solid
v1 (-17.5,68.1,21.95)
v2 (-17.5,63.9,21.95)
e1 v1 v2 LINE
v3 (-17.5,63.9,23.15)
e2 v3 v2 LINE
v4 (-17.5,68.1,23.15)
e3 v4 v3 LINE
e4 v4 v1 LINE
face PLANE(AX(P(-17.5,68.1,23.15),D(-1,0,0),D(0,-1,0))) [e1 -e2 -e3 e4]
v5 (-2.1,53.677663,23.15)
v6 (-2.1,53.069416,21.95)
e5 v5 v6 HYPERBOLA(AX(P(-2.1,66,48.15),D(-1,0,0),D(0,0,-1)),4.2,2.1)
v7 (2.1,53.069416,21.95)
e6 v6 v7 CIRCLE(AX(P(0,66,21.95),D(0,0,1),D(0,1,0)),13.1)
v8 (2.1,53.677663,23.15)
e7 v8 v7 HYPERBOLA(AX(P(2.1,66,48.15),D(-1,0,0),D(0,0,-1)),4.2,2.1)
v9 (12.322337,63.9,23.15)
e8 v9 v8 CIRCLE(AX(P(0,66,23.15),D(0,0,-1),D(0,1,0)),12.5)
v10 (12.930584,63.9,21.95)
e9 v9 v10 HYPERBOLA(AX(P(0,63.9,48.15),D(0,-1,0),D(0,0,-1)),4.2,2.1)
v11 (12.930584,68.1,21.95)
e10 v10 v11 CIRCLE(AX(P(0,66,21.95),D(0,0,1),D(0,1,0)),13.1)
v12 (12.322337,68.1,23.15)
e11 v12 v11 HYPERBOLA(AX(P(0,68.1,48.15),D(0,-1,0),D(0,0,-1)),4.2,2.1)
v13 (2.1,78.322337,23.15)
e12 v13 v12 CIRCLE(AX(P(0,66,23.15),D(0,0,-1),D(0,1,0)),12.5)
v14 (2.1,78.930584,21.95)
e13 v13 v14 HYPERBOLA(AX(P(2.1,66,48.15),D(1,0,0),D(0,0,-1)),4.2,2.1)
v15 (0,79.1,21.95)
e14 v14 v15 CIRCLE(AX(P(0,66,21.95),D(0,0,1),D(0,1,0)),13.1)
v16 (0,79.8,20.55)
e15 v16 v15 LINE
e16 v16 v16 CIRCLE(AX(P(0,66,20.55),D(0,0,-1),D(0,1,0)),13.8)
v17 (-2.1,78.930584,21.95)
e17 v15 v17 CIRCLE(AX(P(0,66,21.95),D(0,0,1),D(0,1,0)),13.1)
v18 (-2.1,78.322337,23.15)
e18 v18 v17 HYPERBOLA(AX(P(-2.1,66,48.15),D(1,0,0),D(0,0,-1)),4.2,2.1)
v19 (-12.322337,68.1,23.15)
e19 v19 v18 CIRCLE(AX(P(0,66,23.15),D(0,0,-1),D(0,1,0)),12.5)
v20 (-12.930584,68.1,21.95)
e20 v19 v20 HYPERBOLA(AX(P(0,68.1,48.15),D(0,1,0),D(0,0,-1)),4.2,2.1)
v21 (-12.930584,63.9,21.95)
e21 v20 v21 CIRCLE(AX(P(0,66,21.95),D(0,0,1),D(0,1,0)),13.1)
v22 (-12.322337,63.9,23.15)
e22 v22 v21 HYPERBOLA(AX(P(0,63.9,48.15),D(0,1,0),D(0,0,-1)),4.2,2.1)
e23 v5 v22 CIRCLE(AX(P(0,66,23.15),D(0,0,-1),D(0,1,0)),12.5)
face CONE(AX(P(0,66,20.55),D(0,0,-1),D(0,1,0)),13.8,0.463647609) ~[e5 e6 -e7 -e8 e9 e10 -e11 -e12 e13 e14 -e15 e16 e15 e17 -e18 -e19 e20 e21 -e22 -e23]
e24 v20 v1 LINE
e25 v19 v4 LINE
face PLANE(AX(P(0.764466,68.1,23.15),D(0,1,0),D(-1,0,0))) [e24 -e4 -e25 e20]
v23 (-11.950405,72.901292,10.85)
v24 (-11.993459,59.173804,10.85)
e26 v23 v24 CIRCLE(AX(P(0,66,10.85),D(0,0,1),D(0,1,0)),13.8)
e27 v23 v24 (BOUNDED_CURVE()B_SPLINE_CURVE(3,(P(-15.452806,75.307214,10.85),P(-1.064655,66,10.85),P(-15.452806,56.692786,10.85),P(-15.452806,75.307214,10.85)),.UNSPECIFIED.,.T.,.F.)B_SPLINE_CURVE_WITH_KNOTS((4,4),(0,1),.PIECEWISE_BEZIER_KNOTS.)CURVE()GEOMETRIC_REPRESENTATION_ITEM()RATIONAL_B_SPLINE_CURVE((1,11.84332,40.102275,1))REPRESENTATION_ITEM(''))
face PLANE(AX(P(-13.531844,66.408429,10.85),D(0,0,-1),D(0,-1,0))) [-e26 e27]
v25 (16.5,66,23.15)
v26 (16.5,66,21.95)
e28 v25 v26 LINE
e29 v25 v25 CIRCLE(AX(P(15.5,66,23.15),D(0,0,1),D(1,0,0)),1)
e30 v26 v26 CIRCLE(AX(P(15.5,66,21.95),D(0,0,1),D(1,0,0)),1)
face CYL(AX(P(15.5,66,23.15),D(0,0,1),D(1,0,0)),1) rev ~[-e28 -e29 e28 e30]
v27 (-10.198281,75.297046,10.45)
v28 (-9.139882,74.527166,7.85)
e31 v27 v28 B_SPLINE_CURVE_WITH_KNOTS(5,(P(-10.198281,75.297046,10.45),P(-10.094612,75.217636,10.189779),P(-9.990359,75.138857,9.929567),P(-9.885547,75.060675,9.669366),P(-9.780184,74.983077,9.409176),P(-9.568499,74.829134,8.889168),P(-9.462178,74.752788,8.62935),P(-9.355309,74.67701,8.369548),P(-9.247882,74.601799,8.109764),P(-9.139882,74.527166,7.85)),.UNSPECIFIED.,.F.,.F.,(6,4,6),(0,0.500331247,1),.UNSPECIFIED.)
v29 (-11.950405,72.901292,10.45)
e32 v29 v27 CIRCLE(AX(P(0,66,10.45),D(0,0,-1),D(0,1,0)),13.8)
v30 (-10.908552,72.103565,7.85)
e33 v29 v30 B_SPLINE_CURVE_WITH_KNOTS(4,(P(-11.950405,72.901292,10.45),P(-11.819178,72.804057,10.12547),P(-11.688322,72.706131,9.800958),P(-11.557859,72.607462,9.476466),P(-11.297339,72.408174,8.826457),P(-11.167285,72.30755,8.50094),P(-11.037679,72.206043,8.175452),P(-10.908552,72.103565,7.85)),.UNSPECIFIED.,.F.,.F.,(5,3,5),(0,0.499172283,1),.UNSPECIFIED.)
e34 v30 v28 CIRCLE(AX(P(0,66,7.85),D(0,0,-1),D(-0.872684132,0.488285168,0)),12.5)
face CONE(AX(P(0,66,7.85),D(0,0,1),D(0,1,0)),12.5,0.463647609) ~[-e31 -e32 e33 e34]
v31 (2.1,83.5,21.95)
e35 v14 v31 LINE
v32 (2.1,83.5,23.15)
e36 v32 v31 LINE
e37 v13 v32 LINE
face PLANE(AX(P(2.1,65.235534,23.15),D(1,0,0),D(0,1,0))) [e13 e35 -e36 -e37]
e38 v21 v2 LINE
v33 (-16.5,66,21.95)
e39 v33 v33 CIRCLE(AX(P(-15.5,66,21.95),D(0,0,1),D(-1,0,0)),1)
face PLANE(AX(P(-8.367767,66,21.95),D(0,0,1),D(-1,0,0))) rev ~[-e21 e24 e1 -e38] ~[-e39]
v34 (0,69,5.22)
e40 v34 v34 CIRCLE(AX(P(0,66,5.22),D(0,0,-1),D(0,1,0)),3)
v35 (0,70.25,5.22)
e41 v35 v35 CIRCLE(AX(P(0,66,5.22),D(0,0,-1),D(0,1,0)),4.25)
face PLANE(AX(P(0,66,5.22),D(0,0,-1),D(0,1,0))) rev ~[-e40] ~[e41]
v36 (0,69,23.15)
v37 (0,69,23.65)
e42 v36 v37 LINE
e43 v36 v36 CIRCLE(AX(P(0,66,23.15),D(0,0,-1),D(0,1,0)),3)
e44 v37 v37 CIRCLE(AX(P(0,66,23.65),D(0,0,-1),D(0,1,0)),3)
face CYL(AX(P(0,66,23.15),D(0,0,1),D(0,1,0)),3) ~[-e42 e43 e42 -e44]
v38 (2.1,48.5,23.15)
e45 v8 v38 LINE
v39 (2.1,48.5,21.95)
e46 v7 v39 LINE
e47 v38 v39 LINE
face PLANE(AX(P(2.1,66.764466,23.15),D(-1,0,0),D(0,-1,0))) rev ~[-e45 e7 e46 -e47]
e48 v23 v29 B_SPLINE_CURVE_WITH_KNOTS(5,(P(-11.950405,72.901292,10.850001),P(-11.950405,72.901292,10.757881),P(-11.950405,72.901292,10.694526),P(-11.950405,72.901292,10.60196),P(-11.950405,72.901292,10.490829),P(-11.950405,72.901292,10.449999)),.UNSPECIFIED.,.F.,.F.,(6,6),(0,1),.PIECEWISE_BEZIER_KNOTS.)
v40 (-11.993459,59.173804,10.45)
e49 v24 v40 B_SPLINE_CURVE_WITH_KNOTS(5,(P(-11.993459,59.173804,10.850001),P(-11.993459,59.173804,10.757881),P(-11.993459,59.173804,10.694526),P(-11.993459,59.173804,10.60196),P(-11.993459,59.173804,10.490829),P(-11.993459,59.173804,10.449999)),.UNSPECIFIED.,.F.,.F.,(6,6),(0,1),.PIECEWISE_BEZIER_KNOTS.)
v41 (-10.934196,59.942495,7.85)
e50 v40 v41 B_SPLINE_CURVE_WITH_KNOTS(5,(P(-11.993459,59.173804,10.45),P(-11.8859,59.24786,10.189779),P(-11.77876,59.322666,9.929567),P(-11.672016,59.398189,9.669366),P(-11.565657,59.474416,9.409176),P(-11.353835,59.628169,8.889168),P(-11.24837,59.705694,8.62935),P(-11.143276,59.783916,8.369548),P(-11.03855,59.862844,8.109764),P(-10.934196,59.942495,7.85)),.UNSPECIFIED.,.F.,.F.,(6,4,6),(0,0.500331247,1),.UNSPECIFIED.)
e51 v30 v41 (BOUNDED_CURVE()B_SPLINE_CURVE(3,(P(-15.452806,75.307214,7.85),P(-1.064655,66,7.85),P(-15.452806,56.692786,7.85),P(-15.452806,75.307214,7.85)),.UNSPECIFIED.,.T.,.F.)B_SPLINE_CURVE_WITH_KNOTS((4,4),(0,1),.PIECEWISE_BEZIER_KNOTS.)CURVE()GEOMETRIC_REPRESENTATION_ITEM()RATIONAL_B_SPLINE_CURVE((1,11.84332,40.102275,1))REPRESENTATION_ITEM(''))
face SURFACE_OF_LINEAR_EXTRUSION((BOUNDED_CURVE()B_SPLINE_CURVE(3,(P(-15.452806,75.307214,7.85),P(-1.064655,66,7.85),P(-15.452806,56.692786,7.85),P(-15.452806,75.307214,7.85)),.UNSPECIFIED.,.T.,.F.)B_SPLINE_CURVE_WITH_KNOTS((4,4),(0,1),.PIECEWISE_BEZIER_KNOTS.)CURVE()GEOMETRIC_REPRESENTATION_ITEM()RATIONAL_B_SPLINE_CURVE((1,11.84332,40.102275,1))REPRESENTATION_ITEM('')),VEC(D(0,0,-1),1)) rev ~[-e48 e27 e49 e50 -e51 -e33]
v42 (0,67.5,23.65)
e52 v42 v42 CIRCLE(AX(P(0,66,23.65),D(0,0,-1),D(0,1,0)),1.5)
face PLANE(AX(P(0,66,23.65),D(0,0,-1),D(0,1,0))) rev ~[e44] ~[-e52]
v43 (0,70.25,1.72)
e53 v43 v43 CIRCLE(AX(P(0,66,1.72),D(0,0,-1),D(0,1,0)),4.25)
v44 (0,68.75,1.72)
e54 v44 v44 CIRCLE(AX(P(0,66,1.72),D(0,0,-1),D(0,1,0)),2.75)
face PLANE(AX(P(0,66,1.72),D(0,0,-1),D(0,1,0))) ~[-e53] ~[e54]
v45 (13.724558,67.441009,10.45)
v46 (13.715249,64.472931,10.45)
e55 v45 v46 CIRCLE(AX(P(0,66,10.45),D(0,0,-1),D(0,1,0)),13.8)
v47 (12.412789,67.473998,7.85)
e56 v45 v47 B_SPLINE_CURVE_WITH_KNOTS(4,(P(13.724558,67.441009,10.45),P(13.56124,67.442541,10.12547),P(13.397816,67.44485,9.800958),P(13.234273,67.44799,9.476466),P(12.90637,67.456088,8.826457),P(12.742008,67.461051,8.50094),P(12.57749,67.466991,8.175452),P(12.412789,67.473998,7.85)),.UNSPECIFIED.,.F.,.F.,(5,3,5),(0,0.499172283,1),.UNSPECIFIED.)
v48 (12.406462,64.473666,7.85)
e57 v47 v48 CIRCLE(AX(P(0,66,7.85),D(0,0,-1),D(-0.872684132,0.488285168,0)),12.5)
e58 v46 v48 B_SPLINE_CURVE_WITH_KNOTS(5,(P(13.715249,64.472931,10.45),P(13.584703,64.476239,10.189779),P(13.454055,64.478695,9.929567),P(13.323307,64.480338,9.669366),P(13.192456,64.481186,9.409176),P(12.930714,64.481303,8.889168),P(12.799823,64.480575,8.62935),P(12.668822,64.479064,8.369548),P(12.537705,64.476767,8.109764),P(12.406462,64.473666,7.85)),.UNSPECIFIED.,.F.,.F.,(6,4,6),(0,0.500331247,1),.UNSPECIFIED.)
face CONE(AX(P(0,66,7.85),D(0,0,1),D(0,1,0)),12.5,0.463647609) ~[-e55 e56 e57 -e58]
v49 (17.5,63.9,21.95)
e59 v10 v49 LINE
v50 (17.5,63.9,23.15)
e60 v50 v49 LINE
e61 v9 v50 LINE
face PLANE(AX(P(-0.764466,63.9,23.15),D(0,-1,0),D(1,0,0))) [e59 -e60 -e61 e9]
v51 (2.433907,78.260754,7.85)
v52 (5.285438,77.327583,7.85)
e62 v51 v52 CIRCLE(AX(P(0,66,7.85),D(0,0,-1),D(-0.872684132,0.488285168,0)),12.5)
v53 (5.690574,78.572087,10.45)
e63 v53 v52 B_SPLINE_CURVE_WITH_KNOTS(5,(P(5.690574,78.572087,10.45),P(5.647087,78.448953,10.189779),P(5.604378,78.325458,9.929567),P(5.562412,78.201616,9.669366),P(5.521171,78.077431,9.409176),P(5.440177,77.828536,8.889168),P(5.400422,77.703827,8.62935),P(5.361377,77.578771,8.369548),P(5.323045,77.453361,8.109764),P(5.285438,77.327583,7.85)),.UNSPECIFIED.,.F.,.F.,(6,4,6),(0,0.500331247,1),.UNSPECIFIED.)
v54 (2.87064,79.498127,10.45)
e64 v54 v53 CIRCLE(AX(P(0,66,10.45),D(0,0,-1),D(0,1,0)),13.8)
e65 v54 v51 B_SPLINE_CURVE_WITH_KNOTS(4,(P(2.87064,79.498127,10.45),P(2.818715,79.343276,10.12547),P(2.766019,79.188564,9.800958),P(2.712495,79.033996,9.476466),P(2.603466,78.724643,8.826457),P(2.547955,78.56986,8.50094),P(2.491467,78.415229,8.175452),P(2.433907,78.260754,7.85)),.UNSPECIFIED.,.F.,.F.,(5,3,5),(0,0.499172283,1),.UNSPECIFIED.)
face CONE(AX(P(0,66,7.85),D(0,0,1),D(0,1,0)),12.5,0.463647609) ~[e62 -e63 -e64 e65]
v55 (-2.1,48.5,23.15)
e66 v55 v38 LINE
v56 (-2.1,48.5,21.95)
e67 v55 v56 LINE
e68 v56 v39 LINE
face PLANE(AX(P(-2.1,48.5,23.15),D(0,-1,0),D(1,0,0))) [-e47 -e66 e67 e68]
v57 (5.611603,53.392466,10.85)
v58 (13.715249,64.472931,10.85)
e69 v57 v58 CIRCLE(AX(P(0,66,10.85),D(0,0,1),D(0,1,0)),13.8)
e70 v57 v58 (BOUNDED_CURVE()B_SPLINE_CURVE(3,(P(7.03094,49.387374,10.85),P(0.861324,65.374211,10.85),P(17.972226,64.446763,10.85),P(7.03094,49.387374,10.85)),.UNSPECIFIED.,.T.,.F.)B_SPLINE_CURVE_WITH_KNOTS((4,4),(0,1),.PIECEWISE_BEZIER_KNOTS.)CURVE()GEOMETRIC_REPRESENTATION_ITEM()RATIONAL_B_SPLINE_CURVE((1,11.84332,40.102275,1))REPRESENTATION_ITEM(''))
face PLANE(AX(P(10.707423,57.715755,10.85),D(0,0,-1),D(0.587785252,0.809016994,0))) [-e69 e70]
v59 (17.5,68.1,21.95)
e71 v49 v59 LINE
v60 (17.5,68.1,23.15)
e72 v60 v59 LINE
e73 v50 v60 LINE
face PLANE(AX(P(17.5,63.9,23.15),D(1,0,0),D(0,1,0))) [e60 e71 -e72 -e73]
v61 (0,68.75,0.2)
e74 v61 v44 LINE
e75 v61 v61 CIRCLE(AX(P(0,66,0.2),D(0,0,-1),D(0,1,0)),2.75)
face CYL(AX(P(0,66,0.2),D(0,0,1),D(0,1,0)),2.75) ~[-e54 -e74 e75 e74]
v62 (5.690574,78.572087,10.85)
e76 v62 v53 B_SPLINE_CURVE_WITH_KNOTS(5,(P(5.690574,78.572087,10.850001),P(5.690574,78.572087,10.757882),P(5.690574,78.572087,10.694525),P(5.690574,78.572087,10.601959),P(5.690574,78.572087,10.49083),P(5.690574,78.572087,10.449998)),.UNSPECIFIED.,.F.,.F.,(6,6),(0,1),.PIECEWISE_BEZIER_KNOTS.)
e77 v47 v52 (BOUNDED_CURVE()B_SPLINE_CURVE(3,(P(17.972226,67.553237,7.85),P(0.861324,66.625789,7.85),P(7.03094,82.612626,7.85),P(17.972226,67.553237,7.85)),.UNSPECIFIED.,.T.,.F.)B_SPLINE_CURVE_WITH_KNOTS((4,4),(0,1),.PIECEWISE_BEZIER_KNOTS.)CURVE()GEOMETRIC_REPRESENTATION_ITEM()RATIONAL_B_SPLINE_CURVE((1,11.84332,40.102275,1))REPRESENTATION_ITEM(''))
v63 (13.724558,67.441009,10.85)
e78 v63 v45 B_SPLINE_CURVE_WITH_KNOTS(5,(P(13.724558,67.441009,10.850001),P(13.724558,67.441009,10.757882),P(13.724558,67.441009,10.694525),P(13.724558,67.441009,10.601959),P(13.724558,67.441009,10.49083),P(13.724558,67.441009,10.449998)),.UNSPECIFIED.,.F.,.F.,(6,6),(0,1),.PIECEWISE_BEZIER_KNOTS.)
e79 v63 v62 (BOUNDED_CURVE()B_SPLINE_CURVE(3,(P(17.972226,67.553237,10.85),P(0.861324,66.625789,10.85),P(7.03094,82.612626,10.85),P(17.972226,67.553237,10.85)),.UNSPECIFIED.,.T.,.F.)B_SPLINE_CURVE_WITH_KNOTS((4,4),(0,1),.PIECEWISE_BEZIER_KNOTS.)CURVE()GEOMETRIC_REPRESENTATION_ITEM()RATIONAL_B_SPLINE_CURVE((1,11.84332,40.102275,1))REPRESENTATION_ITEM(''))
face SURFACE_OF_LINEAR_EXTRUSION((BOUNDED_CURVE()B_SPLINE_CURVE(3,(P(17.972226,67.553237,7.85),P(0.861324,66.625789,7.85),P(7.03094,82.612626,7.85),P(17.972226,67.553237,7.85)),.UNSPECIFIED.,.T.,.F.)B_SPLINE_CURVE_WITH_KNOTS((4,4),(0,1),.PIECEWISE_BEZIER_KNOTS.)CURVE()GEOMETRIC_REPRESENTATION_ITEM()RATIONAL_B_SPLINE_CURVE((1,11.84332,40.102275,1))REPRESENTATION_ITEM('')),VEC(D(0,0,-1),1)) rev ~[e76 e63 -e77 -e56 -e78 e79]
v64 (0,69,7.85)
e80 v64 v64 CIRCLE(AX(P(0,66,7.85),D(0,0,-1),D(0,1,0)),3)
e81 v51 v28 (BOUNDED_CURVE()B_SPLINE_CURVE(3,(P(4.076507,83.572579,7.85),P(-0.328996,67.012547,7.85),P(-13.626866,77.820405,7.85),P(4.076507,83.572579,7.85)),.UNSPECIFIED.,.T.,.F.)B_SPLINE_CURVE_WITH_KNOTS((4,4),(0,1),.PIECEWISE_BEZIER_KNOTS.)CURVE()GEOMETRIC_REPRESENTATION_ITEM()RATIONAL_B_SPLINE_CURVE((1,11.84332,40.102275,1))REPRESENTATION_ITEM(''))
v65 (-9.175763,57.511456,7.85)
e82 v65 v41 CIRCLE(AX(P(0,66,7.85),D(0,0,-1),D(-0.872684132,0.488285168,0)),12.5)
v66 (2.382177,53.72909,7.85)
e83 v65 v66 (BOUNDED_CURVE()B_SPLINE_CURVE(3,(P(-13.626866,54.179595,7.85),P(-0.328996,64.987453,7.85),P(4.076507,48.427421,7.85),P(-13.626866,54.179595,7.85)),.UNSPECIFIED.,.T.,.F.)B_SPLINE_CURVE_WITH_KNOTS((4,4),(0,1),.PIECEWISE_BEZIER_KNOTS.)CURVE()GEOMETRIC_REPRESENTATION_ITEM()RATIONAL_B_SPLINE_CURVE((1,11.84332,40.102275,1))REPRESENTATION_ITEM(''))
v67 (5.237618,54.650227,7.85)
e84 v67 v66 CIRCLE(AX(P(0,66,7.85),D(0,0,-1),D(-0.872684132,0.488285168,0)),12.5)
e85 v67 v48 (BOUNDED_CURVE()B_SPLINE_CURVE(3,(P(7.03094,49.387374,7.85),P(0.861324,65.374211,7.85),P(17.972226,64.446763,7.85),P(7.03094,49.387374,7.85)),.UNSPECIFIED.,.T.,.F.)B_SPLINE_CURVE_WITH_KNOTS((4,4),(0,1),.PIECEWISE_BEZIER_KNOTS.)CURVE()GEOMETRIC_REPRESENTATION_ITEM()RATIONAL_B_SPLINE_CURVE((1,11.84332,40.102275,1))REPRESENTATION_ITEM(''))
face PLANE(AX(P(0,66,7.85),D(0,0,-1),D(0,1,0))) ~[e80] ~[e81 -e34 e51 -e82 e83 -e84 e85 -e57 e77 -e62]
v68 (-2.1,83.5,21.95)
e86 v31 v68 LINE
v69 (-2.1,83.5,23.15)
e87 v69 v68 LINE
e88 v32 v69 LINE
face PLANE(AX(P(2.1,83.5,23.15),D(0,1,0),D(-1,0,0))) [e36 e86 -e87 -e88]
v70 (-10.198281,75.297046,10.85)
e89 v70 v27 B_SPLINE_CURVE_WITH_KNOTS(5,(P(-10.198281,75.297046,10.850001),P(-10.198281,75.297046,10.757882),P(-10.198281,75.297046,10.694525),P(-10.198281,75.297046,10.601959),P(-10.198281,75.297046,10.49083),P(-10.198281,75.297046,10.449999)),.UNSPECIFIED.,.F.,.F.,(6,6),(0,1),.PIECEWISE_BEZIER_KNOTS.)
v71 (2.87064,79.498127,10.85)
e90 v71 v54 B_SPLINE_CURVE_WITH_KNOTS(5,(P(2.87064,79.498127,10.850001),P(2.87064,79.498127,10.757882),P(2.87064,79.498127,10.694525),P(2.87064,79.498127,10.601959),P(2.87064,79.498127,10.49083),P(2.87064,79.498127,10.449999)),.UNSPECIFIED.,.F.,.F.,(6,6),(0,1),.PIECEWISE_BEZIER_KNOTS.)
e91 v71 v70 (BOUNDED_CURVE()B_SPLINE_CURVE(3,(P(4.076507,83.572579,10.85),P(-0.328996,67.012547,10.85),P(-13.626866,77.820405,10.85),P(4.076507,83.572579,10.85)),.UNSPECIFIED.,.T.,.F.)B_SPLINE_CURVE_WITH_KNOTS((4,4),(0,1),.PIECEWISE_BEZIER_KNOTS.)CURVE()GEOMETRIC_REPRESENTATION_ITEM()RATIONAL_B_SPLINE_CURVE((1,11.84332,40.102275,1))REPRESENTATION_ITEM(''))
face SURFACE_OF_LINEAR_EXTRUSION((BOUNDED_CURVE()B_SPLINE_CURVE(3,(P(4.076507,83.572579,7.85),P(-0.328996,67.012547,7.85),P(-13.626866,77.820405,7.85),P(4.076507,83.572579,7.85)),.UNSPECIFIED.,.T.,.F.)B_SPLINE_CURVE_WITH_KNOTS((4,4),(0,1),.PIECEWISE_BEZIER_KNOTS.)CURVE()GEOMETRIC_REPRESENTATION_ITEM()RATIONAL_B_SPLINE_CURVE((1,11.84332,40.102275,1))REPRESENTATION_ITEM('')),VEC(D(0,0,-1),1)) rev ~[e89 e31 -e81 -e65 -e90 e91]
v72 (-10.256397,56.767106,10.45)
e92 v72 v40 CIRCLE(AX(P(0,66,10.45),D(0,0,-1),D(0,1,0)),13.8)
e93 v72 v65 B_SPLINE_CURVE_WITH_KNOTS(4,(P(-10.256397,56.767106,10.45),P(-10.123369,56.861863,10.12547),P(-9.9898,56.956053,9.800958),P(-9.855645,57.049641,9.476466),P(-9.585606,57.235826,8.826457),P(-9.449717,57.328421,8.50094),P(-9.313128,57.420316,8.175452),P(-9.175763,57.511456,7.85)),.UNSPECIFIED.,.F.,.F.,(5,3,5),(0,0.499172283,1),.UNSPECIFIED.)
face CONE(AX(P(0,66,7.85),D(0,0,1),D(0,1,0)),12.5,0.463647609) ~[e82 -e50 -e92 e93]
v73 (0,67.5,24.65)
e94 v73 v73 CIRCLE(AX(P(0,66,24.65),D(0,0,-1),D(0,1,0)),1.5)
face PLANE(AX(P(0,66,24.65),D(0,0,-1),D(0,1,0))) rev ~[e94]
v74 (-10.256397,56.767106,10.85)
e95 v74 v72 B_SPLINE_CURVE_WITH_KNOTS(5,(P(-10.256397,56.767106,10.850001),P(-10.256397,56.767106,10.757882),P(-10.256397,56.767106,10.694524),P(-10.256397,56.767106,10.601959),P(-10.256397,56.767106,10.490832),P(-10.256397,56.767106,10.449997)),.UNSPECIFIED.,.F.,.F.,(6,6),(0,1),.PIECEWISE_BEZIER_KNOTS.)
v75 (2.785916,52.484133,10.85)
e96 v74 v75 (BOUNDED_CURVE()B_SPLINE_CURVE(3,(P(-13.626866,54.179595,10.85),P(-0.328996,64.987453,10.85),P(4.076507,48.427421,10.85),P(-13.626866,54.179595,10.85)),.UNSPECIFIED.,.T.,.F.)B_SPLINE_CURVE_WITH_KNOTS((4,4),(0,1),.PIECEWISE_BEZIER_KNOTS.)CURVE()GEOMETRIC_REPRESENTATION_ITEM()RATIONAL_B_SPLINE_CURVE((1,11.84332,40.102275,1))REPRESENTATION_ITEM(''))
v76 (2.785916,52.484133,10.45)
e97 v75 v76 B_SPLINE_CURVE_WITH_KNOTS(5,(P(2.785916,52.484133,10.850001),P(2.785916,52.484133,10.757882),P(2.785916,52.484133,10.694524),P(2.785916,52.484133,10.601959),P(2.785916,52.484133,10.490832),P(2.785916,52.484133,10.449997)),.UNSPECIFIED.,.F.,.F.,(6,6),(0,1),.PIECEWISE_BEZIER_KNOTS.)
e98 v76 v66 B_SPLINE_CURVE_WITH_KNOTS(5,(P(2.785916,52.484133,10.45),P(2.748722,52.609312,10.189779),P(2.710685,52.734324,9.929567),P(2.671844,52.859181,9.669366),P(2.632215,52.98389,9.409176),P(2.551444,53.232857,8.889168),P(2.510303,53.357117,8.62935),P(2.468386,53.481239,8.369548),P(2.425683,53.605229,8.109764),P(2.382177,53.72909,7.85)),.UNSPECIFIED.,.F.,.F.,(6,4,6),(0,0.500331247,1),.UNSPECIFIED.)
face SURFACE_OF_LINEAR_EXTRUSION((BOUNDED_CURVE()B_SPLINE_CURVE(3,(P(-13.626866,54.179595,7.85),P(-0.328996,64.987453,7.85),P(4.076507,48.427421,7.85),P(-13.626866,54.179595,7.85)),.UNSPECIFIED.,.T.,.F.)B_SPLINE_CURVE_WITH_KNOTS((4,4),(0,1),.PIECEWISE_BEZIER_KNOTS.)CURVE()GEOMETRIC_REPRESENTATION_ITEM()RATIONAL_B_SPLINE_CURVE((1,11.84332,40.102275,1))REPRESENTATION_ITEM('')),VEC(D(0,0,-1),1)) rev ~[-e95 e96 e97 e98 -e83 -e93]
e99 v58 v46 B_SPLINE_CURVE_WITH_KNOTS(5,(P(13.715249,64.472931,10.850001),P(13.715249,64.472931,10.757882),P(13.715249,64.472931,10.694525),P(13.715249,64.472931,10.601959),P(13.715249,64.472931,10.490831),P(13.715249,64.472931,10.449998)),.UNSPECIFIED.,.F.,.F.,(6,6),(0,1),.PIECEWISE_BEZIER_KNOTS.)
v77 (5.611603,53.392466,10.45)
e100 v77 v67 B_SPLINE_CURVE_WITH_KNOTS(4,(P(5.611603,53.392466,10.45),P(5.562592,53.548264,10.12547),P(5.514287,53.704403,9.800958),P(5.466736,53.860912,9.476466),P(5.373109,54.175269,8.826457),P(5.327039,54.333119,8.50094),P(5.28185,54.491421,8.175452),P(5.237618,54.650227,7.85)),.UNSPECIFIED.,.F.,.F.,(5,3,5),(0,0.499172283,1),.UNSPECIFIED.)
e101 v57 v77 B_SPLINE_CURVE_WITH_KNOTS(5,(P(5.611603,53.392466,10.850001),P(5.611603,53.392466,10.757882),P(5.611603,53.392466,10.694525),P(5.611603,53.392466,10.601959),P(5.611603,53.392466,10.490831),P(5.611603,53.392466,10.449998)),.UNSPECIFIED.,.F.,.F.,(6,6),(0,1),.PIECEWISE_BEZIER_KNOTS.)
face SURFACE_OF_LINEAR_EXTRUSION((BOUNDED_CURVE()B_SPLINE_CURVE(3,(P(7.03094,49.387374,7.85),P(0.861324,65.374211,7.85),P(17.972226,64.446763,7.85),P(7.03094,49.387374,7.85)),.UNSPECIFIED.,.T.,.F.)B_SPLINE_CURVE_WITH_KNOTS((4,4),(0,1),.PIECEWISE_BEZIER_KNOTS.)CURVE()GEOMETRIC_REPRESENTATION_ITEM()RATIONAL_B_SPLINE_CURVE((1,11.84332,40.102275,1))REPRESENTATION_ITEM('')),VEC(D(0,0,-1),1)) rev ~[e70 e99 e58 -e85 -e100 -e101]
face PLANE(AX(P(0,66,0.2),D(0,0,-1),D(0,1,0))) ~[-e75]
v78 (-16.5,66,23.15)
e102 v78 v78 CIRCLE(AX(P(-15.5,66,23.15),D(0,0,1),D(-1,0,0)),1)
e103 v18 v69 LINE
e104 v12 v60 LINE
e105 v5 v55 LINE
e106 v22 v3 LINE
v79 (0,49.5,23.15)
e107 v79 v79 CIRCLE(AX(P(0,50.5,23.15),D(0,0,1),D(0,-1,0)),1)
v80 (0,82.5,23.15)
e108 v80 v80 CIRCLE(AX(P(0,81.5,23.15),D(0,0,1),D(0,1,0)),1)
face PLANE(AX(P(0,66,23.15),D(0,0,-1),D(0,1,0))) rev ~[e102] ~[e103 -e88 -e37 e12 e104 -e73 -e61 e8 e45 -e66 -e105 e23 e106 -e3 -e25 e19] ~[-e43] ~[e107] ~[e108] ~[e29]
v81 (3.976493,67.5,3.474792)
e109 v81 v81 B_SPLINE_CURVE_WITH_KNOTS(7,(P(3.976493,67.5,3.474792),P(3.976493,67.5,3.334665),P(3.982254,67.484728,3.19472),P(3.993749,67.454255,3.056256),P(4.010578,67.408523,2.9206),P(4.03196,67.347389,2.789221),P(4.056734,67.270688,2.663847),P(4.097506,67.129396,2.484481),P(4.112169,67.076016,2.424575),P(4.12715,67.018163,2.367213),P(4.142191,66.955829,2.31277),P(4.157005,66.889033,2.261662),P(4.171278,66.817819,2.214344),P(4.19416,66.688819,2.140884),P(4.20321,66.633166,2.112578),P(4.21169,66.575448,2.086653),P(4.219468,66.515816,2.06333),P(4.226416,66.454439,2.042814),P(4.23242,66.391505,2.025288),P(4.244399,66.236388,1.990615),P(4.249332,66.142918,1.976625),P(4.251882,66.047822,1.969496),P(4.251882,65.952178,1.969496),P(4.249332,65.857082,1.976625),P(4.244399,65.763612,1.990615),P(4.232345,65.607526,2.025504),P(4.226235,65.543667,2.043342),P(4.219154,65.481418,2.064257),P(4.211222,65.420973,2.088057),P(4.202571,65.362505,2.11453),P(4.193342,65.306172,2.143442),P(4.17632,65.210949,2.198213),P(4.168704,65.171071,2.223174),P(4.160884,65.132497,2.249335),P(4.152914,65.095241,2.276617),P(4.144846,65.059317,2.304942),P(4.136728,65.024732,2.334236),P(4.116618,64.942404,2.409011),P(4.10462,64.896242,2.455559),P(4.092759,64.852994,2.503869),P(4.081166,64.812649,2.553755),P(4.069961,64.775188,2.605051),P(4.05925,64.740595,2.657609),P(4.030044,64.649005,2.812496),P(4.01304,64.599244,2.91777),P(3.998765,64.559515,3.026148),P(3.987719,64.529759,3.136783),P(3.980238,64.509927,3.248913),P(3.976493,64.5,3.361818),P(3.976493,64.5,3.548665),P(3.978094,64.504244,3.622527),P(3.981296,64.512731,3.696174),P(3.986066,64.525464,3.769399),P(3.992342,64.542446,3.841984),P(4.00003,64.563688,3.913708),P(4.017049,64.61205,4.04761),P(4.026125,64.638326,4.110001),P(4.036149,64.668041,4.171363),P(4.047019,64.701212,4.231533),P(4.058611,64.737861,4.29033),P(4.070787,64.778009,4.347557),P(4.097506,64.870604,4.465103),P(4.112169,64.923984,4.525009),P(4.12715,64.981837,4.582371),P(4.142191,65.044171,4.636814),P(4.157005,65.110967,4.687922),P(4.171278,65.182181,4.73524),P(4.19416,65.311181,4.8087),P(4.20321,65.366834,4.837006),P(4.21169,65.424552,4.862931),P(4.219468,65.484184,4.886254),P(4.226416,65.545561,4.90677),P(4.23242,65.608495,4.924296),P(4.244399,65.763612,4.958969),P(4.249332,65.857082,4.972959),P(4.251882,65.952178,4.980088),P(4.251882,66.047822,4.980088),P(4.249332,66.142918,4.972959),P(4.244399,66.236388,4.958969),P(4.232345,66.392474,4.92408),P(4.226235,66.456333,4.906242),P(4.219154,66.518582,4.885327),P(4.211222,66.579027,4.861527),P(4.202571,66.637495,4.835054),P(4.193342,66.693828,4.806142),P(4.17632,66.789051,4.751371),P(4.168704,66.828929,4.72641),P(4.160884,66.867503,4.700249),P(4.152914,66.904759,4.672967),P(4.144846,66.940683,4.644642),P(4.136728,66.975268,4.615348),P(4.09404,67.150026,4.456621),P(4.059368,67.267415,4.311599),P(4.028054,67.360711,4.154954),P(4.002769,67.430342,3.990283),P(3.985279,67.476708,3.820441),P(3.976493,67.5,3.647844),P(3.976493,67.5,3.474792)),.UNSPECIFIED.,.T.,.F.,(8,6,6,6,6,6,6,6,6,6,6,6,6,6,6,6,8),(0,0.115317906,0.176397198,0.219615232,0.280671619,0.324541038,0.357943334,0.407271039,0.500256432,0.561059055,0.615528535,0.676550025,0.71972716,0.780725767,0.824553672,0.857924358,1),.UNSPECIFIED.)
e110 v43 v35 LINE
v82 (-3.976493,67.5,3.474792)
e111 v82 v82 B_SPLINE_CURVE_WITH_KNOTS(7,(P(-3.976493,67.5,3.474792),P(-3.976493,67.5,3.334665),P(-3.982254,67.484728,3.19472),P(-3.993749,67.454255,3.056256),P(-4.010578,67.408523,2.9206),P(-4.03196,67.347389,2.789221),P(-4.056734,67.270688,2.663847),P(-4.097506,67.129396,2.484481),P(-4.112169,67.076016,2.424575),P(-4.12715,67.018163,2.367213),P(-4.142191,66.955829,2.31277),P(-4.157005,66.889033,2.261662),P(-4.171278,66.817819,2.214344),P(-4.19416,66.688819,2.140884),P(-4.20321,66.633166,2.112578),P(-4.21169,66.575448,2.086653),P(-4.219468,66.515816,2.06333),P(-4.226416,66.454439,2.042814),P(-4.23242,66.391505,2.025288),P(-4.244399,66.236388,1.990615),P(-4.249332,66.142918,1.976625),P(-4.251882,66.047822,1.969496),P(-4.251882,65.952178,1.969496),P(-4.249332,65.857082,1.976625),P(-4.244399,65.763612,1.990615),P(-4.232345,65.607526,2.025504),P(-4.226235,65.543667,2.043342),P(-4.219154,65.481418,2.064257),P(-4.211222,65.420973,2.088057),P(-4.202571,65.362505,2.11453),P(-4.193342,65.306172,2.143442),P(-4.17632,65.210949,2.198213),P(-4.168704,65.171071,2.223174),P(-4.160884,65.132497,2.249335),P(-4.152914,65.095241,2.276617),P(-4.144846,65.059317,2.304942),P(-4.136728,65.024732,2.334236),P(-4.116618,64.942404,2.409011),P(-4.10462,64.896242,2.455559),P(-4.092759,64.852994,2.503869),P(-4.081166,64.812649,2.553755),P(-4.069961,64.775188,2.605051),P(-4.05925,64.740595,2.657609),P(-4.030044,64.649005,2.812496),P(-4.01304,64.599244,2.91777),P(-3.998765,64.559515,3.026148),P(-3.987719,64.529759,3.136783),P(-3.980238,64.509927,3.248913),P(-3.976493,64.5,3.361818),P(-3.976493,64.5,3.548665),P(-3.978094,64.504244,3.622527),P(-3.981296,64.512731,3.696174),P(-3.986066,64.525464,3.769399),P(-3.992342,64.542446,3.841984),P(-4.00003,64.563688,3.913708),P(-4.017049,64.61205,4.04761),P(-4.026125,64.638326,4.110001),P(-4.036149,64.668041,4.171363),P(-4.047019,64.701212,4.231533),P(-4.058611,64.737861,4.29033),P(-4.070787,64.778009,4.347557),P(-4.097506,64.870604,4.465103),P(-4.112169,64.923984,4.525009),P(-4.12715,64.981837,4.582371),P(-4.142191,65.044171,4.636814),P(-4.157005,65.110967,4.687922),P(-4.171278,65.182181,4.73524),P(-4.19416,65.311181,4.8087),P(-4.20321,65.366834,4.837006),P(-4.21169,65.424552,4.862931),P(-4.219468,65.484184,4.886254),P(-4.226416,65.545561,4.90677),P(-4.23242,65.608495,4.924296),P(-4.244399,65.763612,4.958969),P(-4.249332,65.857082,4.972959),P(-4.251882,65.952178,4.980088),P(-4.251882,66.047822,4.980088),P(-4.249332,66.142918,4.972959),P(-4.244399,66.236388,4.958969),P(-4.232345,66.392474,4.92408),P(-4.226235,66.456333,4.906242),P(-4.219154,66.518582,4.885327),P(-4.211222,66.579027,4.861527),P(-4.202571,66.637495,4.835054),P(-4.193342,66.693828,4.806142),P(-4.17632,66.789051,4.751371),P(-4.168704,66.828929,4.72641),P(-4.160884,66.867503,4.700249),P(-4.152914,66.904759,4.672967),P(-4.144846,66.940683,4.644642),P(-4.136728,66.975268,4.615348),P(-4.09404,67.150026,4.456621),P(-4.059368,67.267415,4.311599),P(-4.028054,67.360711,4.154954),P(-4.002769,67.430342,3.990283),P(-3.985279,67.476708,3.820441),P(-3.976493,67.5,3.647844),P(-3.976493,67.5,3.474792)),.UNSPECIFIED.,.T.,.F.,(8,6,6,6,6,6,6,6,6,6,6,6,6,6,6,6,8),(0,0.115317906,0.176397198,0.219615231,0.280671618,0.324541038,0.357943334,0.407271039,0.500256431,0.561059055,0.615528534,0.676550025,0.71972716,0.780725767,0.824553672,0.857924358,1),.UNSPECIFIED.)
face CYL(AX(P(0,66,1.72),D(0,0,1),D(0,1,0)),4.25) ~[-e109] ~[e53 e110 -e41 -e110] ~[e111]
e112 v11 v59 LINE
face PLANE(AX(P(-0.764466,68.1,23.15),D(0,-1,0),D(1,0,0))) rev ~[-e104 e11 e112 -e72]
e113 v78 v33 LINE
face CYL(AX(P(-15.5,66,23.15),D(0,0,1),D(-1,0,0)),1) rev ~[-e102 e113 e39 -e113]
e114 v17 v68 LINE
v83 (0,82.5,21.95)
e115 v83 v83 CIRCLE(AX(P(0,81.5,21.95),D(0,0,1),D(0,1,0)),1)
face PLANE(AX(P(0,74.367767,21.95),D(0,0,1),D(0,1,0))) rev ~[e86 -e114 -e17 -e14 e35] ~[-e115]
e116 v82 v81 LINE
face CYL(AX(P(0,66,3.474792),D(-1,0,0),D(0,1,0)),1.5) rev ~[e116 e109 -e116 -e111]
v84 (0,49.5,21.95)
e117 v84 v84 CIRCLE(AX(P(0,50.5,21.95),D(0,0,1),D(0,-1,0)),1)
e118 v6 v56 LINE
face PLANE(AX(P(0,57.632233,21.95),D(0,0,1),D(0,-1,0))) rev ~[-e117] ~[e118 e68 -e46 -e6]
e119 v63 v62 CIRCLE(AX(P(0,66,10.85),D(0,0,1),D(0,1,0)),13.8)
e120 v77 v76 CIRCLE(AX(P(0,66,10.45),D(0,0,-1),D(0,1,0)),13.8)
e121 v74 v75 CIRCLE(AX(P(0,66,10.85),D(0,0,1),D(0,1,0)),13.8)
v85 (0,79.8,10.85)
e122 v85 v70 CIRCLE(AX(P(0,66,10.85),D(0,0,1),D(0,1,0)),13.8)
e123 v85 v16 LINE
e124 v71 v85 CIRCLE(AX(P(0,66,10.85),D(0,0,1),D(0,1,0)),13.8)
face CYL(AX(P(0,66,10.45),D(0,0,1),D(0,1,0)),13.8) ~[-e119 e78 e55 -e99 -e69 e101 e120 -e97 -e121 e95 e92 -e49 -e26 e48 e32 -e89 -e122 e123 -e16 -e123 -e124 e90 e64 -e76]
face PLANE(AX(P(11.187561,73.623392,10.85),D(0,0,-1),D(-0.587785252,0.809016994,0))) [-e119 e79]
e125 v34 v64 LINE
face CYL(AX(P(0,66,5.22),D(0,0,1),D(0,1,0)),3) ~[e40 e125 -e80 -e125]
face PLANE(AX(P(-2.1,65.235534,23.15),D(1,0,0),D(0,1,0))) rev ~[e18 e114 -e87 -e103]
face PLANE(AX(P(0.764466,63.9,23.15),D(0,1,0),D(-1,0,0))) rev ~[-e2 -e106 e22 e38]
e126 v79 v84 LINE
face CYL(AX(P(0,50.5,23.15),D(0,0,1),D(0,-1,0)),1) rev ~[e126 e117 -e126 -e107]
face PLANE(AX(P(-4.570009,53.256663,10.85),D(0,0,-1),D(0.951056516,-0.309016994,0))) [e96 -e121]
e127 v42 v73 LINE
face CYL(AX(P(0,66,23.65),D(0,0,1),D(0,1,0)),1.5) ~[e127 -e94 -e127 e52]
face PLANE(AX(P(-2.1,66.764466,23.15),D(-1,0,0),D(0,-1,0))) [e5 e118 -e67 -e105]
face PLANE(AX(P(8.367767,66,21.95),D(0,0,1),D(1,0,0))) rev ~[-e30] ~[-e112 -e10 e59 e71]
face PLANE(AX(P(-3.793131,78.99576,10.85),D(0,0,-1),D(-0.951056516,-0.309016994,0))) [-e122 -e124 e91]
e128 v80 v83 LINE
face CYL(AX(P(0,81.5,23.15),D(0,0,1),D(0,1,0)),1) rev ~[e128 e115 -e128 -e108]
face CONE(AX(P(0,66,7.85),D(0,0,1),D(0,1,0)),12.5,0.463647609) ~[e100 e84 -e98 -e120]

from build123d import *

# Parameters (mm, degrees)
POCKET_DEPTH            = 3
POLARPATTERN001_COUNT   = 5
SKETCH007_R             = 1.5
POCKET001_DEPTH         = 5
POCKET001_DEPTH_BACK    = 100
SKETCH008_W             = 18.264466
SKETCH008_H             = 4.2
SKETCH008_R             = 1
PAD004_DEPTH            = 1.2
POLARPATTERN002_COUNT   = 4
BODY003_PLACEMENT_ANGLE = 180


with BuildPart() as part:
    # Sketch005 → Revolution (revolve)
    with BuildSketch(Plane.YZ):
        Polygon((0, 15.3), (2.75, 15.3), (2.75, 13.78), (4.25, 13.78), (4.25, 10.28), (3, 10.28), (3, 7.65), (12.5, 7.65), (13.8, 5.05), (13.8, -5.05), (12.5, -7.65), (3, -7.65), (3, -8.15), (1.5, -8.15), (1.5, -9.15), (0, -9.15), align=None)
    revolve(axis=Axis((0, 0, 0), (0, 0, 1)))

    # Sketch006 (on Face7 of Revolution) → Pocket (cut)
    with BuildSketch(Plane(origin=(0, 0, 7.65), x_dir=(0, -1, 0), z_dir=(0, 0, 1))):
        with BuildLine():
            add(Edge.make_bspline(
                [(-9.307214, 15.452806), (0, 1.064655), (9.307214, 15.452806), (-9.307214, 15.452806)],
                knots=[0, 0, 0, 0, 1, 1, 1, 1], degree=3, weights=[1, 11.84332, 40.102275, 1]))
        make_face()
    pocket = extrude(amount=-POCKET_DEPTH, mode=Mode.SUBTRACT)

    # PolarPattern001: Pocket ×5 about axis
    polarpattern001_axis = Axis((0, 0, 7.65), (0, 0, 1))
    for i in range(1, POLARPATTERN001_COUNT):
        add(pocket.rotate(polarpattern001_axis, i * 360 / POLARPATTERN001_COUNT), mode=Mode.SUBTRACT)

    # Sketch007 → Pocket001 (cut, two sides)
    with BuildSketch(Plane.YZ) as pocket001_sk:
        with Locations((0, 12.025208)):
            Circle(SKETCH007_R)
    extrude(amount=-POCKET001_DEPTH, mode=Mode.SUBTRACT)
    extrude(pocket001_sk.sketch, amount=POCKET001_DEPTH_BACK, mode=Mode.SUBTRACT)

    # Sketch008 (on Face26 of Pocket001) → Pad004 (join)
    with BuildSketch(Plane.YX.offset(7.65)):
        with Locations((8.367767, 0)):
            Rectangle(SKETCH008_W, SKETCH008_H)
        with Locations((15.5, 0)):
            Circle(SKETCH008_R, mode=Mode.SUBTRACT)
    pad004 = extrude(amount=-PAD004_DEPTH)

    # PolarPattern002: Pad004 ×4 about axis
    polarpattern002_axis = Axis((0, 0, -7.65), (0, 0, -1))
    for i in range(1, POLARPATTERN002_COUNT):
        add(pad004.rotate(polarpattern002_axis, i * 360 / POLARPATTERN002_COUNT))


with BuildPart() as part_1:
    # Body003 placement: moved
    add(part.part.moved(Location((0, 66, 15.5))).rotate(Axis((0, 66, 15.5), (0, 1, 0)), BODY003_PLACEMENT_ANGLE))


solid = part_1.part
